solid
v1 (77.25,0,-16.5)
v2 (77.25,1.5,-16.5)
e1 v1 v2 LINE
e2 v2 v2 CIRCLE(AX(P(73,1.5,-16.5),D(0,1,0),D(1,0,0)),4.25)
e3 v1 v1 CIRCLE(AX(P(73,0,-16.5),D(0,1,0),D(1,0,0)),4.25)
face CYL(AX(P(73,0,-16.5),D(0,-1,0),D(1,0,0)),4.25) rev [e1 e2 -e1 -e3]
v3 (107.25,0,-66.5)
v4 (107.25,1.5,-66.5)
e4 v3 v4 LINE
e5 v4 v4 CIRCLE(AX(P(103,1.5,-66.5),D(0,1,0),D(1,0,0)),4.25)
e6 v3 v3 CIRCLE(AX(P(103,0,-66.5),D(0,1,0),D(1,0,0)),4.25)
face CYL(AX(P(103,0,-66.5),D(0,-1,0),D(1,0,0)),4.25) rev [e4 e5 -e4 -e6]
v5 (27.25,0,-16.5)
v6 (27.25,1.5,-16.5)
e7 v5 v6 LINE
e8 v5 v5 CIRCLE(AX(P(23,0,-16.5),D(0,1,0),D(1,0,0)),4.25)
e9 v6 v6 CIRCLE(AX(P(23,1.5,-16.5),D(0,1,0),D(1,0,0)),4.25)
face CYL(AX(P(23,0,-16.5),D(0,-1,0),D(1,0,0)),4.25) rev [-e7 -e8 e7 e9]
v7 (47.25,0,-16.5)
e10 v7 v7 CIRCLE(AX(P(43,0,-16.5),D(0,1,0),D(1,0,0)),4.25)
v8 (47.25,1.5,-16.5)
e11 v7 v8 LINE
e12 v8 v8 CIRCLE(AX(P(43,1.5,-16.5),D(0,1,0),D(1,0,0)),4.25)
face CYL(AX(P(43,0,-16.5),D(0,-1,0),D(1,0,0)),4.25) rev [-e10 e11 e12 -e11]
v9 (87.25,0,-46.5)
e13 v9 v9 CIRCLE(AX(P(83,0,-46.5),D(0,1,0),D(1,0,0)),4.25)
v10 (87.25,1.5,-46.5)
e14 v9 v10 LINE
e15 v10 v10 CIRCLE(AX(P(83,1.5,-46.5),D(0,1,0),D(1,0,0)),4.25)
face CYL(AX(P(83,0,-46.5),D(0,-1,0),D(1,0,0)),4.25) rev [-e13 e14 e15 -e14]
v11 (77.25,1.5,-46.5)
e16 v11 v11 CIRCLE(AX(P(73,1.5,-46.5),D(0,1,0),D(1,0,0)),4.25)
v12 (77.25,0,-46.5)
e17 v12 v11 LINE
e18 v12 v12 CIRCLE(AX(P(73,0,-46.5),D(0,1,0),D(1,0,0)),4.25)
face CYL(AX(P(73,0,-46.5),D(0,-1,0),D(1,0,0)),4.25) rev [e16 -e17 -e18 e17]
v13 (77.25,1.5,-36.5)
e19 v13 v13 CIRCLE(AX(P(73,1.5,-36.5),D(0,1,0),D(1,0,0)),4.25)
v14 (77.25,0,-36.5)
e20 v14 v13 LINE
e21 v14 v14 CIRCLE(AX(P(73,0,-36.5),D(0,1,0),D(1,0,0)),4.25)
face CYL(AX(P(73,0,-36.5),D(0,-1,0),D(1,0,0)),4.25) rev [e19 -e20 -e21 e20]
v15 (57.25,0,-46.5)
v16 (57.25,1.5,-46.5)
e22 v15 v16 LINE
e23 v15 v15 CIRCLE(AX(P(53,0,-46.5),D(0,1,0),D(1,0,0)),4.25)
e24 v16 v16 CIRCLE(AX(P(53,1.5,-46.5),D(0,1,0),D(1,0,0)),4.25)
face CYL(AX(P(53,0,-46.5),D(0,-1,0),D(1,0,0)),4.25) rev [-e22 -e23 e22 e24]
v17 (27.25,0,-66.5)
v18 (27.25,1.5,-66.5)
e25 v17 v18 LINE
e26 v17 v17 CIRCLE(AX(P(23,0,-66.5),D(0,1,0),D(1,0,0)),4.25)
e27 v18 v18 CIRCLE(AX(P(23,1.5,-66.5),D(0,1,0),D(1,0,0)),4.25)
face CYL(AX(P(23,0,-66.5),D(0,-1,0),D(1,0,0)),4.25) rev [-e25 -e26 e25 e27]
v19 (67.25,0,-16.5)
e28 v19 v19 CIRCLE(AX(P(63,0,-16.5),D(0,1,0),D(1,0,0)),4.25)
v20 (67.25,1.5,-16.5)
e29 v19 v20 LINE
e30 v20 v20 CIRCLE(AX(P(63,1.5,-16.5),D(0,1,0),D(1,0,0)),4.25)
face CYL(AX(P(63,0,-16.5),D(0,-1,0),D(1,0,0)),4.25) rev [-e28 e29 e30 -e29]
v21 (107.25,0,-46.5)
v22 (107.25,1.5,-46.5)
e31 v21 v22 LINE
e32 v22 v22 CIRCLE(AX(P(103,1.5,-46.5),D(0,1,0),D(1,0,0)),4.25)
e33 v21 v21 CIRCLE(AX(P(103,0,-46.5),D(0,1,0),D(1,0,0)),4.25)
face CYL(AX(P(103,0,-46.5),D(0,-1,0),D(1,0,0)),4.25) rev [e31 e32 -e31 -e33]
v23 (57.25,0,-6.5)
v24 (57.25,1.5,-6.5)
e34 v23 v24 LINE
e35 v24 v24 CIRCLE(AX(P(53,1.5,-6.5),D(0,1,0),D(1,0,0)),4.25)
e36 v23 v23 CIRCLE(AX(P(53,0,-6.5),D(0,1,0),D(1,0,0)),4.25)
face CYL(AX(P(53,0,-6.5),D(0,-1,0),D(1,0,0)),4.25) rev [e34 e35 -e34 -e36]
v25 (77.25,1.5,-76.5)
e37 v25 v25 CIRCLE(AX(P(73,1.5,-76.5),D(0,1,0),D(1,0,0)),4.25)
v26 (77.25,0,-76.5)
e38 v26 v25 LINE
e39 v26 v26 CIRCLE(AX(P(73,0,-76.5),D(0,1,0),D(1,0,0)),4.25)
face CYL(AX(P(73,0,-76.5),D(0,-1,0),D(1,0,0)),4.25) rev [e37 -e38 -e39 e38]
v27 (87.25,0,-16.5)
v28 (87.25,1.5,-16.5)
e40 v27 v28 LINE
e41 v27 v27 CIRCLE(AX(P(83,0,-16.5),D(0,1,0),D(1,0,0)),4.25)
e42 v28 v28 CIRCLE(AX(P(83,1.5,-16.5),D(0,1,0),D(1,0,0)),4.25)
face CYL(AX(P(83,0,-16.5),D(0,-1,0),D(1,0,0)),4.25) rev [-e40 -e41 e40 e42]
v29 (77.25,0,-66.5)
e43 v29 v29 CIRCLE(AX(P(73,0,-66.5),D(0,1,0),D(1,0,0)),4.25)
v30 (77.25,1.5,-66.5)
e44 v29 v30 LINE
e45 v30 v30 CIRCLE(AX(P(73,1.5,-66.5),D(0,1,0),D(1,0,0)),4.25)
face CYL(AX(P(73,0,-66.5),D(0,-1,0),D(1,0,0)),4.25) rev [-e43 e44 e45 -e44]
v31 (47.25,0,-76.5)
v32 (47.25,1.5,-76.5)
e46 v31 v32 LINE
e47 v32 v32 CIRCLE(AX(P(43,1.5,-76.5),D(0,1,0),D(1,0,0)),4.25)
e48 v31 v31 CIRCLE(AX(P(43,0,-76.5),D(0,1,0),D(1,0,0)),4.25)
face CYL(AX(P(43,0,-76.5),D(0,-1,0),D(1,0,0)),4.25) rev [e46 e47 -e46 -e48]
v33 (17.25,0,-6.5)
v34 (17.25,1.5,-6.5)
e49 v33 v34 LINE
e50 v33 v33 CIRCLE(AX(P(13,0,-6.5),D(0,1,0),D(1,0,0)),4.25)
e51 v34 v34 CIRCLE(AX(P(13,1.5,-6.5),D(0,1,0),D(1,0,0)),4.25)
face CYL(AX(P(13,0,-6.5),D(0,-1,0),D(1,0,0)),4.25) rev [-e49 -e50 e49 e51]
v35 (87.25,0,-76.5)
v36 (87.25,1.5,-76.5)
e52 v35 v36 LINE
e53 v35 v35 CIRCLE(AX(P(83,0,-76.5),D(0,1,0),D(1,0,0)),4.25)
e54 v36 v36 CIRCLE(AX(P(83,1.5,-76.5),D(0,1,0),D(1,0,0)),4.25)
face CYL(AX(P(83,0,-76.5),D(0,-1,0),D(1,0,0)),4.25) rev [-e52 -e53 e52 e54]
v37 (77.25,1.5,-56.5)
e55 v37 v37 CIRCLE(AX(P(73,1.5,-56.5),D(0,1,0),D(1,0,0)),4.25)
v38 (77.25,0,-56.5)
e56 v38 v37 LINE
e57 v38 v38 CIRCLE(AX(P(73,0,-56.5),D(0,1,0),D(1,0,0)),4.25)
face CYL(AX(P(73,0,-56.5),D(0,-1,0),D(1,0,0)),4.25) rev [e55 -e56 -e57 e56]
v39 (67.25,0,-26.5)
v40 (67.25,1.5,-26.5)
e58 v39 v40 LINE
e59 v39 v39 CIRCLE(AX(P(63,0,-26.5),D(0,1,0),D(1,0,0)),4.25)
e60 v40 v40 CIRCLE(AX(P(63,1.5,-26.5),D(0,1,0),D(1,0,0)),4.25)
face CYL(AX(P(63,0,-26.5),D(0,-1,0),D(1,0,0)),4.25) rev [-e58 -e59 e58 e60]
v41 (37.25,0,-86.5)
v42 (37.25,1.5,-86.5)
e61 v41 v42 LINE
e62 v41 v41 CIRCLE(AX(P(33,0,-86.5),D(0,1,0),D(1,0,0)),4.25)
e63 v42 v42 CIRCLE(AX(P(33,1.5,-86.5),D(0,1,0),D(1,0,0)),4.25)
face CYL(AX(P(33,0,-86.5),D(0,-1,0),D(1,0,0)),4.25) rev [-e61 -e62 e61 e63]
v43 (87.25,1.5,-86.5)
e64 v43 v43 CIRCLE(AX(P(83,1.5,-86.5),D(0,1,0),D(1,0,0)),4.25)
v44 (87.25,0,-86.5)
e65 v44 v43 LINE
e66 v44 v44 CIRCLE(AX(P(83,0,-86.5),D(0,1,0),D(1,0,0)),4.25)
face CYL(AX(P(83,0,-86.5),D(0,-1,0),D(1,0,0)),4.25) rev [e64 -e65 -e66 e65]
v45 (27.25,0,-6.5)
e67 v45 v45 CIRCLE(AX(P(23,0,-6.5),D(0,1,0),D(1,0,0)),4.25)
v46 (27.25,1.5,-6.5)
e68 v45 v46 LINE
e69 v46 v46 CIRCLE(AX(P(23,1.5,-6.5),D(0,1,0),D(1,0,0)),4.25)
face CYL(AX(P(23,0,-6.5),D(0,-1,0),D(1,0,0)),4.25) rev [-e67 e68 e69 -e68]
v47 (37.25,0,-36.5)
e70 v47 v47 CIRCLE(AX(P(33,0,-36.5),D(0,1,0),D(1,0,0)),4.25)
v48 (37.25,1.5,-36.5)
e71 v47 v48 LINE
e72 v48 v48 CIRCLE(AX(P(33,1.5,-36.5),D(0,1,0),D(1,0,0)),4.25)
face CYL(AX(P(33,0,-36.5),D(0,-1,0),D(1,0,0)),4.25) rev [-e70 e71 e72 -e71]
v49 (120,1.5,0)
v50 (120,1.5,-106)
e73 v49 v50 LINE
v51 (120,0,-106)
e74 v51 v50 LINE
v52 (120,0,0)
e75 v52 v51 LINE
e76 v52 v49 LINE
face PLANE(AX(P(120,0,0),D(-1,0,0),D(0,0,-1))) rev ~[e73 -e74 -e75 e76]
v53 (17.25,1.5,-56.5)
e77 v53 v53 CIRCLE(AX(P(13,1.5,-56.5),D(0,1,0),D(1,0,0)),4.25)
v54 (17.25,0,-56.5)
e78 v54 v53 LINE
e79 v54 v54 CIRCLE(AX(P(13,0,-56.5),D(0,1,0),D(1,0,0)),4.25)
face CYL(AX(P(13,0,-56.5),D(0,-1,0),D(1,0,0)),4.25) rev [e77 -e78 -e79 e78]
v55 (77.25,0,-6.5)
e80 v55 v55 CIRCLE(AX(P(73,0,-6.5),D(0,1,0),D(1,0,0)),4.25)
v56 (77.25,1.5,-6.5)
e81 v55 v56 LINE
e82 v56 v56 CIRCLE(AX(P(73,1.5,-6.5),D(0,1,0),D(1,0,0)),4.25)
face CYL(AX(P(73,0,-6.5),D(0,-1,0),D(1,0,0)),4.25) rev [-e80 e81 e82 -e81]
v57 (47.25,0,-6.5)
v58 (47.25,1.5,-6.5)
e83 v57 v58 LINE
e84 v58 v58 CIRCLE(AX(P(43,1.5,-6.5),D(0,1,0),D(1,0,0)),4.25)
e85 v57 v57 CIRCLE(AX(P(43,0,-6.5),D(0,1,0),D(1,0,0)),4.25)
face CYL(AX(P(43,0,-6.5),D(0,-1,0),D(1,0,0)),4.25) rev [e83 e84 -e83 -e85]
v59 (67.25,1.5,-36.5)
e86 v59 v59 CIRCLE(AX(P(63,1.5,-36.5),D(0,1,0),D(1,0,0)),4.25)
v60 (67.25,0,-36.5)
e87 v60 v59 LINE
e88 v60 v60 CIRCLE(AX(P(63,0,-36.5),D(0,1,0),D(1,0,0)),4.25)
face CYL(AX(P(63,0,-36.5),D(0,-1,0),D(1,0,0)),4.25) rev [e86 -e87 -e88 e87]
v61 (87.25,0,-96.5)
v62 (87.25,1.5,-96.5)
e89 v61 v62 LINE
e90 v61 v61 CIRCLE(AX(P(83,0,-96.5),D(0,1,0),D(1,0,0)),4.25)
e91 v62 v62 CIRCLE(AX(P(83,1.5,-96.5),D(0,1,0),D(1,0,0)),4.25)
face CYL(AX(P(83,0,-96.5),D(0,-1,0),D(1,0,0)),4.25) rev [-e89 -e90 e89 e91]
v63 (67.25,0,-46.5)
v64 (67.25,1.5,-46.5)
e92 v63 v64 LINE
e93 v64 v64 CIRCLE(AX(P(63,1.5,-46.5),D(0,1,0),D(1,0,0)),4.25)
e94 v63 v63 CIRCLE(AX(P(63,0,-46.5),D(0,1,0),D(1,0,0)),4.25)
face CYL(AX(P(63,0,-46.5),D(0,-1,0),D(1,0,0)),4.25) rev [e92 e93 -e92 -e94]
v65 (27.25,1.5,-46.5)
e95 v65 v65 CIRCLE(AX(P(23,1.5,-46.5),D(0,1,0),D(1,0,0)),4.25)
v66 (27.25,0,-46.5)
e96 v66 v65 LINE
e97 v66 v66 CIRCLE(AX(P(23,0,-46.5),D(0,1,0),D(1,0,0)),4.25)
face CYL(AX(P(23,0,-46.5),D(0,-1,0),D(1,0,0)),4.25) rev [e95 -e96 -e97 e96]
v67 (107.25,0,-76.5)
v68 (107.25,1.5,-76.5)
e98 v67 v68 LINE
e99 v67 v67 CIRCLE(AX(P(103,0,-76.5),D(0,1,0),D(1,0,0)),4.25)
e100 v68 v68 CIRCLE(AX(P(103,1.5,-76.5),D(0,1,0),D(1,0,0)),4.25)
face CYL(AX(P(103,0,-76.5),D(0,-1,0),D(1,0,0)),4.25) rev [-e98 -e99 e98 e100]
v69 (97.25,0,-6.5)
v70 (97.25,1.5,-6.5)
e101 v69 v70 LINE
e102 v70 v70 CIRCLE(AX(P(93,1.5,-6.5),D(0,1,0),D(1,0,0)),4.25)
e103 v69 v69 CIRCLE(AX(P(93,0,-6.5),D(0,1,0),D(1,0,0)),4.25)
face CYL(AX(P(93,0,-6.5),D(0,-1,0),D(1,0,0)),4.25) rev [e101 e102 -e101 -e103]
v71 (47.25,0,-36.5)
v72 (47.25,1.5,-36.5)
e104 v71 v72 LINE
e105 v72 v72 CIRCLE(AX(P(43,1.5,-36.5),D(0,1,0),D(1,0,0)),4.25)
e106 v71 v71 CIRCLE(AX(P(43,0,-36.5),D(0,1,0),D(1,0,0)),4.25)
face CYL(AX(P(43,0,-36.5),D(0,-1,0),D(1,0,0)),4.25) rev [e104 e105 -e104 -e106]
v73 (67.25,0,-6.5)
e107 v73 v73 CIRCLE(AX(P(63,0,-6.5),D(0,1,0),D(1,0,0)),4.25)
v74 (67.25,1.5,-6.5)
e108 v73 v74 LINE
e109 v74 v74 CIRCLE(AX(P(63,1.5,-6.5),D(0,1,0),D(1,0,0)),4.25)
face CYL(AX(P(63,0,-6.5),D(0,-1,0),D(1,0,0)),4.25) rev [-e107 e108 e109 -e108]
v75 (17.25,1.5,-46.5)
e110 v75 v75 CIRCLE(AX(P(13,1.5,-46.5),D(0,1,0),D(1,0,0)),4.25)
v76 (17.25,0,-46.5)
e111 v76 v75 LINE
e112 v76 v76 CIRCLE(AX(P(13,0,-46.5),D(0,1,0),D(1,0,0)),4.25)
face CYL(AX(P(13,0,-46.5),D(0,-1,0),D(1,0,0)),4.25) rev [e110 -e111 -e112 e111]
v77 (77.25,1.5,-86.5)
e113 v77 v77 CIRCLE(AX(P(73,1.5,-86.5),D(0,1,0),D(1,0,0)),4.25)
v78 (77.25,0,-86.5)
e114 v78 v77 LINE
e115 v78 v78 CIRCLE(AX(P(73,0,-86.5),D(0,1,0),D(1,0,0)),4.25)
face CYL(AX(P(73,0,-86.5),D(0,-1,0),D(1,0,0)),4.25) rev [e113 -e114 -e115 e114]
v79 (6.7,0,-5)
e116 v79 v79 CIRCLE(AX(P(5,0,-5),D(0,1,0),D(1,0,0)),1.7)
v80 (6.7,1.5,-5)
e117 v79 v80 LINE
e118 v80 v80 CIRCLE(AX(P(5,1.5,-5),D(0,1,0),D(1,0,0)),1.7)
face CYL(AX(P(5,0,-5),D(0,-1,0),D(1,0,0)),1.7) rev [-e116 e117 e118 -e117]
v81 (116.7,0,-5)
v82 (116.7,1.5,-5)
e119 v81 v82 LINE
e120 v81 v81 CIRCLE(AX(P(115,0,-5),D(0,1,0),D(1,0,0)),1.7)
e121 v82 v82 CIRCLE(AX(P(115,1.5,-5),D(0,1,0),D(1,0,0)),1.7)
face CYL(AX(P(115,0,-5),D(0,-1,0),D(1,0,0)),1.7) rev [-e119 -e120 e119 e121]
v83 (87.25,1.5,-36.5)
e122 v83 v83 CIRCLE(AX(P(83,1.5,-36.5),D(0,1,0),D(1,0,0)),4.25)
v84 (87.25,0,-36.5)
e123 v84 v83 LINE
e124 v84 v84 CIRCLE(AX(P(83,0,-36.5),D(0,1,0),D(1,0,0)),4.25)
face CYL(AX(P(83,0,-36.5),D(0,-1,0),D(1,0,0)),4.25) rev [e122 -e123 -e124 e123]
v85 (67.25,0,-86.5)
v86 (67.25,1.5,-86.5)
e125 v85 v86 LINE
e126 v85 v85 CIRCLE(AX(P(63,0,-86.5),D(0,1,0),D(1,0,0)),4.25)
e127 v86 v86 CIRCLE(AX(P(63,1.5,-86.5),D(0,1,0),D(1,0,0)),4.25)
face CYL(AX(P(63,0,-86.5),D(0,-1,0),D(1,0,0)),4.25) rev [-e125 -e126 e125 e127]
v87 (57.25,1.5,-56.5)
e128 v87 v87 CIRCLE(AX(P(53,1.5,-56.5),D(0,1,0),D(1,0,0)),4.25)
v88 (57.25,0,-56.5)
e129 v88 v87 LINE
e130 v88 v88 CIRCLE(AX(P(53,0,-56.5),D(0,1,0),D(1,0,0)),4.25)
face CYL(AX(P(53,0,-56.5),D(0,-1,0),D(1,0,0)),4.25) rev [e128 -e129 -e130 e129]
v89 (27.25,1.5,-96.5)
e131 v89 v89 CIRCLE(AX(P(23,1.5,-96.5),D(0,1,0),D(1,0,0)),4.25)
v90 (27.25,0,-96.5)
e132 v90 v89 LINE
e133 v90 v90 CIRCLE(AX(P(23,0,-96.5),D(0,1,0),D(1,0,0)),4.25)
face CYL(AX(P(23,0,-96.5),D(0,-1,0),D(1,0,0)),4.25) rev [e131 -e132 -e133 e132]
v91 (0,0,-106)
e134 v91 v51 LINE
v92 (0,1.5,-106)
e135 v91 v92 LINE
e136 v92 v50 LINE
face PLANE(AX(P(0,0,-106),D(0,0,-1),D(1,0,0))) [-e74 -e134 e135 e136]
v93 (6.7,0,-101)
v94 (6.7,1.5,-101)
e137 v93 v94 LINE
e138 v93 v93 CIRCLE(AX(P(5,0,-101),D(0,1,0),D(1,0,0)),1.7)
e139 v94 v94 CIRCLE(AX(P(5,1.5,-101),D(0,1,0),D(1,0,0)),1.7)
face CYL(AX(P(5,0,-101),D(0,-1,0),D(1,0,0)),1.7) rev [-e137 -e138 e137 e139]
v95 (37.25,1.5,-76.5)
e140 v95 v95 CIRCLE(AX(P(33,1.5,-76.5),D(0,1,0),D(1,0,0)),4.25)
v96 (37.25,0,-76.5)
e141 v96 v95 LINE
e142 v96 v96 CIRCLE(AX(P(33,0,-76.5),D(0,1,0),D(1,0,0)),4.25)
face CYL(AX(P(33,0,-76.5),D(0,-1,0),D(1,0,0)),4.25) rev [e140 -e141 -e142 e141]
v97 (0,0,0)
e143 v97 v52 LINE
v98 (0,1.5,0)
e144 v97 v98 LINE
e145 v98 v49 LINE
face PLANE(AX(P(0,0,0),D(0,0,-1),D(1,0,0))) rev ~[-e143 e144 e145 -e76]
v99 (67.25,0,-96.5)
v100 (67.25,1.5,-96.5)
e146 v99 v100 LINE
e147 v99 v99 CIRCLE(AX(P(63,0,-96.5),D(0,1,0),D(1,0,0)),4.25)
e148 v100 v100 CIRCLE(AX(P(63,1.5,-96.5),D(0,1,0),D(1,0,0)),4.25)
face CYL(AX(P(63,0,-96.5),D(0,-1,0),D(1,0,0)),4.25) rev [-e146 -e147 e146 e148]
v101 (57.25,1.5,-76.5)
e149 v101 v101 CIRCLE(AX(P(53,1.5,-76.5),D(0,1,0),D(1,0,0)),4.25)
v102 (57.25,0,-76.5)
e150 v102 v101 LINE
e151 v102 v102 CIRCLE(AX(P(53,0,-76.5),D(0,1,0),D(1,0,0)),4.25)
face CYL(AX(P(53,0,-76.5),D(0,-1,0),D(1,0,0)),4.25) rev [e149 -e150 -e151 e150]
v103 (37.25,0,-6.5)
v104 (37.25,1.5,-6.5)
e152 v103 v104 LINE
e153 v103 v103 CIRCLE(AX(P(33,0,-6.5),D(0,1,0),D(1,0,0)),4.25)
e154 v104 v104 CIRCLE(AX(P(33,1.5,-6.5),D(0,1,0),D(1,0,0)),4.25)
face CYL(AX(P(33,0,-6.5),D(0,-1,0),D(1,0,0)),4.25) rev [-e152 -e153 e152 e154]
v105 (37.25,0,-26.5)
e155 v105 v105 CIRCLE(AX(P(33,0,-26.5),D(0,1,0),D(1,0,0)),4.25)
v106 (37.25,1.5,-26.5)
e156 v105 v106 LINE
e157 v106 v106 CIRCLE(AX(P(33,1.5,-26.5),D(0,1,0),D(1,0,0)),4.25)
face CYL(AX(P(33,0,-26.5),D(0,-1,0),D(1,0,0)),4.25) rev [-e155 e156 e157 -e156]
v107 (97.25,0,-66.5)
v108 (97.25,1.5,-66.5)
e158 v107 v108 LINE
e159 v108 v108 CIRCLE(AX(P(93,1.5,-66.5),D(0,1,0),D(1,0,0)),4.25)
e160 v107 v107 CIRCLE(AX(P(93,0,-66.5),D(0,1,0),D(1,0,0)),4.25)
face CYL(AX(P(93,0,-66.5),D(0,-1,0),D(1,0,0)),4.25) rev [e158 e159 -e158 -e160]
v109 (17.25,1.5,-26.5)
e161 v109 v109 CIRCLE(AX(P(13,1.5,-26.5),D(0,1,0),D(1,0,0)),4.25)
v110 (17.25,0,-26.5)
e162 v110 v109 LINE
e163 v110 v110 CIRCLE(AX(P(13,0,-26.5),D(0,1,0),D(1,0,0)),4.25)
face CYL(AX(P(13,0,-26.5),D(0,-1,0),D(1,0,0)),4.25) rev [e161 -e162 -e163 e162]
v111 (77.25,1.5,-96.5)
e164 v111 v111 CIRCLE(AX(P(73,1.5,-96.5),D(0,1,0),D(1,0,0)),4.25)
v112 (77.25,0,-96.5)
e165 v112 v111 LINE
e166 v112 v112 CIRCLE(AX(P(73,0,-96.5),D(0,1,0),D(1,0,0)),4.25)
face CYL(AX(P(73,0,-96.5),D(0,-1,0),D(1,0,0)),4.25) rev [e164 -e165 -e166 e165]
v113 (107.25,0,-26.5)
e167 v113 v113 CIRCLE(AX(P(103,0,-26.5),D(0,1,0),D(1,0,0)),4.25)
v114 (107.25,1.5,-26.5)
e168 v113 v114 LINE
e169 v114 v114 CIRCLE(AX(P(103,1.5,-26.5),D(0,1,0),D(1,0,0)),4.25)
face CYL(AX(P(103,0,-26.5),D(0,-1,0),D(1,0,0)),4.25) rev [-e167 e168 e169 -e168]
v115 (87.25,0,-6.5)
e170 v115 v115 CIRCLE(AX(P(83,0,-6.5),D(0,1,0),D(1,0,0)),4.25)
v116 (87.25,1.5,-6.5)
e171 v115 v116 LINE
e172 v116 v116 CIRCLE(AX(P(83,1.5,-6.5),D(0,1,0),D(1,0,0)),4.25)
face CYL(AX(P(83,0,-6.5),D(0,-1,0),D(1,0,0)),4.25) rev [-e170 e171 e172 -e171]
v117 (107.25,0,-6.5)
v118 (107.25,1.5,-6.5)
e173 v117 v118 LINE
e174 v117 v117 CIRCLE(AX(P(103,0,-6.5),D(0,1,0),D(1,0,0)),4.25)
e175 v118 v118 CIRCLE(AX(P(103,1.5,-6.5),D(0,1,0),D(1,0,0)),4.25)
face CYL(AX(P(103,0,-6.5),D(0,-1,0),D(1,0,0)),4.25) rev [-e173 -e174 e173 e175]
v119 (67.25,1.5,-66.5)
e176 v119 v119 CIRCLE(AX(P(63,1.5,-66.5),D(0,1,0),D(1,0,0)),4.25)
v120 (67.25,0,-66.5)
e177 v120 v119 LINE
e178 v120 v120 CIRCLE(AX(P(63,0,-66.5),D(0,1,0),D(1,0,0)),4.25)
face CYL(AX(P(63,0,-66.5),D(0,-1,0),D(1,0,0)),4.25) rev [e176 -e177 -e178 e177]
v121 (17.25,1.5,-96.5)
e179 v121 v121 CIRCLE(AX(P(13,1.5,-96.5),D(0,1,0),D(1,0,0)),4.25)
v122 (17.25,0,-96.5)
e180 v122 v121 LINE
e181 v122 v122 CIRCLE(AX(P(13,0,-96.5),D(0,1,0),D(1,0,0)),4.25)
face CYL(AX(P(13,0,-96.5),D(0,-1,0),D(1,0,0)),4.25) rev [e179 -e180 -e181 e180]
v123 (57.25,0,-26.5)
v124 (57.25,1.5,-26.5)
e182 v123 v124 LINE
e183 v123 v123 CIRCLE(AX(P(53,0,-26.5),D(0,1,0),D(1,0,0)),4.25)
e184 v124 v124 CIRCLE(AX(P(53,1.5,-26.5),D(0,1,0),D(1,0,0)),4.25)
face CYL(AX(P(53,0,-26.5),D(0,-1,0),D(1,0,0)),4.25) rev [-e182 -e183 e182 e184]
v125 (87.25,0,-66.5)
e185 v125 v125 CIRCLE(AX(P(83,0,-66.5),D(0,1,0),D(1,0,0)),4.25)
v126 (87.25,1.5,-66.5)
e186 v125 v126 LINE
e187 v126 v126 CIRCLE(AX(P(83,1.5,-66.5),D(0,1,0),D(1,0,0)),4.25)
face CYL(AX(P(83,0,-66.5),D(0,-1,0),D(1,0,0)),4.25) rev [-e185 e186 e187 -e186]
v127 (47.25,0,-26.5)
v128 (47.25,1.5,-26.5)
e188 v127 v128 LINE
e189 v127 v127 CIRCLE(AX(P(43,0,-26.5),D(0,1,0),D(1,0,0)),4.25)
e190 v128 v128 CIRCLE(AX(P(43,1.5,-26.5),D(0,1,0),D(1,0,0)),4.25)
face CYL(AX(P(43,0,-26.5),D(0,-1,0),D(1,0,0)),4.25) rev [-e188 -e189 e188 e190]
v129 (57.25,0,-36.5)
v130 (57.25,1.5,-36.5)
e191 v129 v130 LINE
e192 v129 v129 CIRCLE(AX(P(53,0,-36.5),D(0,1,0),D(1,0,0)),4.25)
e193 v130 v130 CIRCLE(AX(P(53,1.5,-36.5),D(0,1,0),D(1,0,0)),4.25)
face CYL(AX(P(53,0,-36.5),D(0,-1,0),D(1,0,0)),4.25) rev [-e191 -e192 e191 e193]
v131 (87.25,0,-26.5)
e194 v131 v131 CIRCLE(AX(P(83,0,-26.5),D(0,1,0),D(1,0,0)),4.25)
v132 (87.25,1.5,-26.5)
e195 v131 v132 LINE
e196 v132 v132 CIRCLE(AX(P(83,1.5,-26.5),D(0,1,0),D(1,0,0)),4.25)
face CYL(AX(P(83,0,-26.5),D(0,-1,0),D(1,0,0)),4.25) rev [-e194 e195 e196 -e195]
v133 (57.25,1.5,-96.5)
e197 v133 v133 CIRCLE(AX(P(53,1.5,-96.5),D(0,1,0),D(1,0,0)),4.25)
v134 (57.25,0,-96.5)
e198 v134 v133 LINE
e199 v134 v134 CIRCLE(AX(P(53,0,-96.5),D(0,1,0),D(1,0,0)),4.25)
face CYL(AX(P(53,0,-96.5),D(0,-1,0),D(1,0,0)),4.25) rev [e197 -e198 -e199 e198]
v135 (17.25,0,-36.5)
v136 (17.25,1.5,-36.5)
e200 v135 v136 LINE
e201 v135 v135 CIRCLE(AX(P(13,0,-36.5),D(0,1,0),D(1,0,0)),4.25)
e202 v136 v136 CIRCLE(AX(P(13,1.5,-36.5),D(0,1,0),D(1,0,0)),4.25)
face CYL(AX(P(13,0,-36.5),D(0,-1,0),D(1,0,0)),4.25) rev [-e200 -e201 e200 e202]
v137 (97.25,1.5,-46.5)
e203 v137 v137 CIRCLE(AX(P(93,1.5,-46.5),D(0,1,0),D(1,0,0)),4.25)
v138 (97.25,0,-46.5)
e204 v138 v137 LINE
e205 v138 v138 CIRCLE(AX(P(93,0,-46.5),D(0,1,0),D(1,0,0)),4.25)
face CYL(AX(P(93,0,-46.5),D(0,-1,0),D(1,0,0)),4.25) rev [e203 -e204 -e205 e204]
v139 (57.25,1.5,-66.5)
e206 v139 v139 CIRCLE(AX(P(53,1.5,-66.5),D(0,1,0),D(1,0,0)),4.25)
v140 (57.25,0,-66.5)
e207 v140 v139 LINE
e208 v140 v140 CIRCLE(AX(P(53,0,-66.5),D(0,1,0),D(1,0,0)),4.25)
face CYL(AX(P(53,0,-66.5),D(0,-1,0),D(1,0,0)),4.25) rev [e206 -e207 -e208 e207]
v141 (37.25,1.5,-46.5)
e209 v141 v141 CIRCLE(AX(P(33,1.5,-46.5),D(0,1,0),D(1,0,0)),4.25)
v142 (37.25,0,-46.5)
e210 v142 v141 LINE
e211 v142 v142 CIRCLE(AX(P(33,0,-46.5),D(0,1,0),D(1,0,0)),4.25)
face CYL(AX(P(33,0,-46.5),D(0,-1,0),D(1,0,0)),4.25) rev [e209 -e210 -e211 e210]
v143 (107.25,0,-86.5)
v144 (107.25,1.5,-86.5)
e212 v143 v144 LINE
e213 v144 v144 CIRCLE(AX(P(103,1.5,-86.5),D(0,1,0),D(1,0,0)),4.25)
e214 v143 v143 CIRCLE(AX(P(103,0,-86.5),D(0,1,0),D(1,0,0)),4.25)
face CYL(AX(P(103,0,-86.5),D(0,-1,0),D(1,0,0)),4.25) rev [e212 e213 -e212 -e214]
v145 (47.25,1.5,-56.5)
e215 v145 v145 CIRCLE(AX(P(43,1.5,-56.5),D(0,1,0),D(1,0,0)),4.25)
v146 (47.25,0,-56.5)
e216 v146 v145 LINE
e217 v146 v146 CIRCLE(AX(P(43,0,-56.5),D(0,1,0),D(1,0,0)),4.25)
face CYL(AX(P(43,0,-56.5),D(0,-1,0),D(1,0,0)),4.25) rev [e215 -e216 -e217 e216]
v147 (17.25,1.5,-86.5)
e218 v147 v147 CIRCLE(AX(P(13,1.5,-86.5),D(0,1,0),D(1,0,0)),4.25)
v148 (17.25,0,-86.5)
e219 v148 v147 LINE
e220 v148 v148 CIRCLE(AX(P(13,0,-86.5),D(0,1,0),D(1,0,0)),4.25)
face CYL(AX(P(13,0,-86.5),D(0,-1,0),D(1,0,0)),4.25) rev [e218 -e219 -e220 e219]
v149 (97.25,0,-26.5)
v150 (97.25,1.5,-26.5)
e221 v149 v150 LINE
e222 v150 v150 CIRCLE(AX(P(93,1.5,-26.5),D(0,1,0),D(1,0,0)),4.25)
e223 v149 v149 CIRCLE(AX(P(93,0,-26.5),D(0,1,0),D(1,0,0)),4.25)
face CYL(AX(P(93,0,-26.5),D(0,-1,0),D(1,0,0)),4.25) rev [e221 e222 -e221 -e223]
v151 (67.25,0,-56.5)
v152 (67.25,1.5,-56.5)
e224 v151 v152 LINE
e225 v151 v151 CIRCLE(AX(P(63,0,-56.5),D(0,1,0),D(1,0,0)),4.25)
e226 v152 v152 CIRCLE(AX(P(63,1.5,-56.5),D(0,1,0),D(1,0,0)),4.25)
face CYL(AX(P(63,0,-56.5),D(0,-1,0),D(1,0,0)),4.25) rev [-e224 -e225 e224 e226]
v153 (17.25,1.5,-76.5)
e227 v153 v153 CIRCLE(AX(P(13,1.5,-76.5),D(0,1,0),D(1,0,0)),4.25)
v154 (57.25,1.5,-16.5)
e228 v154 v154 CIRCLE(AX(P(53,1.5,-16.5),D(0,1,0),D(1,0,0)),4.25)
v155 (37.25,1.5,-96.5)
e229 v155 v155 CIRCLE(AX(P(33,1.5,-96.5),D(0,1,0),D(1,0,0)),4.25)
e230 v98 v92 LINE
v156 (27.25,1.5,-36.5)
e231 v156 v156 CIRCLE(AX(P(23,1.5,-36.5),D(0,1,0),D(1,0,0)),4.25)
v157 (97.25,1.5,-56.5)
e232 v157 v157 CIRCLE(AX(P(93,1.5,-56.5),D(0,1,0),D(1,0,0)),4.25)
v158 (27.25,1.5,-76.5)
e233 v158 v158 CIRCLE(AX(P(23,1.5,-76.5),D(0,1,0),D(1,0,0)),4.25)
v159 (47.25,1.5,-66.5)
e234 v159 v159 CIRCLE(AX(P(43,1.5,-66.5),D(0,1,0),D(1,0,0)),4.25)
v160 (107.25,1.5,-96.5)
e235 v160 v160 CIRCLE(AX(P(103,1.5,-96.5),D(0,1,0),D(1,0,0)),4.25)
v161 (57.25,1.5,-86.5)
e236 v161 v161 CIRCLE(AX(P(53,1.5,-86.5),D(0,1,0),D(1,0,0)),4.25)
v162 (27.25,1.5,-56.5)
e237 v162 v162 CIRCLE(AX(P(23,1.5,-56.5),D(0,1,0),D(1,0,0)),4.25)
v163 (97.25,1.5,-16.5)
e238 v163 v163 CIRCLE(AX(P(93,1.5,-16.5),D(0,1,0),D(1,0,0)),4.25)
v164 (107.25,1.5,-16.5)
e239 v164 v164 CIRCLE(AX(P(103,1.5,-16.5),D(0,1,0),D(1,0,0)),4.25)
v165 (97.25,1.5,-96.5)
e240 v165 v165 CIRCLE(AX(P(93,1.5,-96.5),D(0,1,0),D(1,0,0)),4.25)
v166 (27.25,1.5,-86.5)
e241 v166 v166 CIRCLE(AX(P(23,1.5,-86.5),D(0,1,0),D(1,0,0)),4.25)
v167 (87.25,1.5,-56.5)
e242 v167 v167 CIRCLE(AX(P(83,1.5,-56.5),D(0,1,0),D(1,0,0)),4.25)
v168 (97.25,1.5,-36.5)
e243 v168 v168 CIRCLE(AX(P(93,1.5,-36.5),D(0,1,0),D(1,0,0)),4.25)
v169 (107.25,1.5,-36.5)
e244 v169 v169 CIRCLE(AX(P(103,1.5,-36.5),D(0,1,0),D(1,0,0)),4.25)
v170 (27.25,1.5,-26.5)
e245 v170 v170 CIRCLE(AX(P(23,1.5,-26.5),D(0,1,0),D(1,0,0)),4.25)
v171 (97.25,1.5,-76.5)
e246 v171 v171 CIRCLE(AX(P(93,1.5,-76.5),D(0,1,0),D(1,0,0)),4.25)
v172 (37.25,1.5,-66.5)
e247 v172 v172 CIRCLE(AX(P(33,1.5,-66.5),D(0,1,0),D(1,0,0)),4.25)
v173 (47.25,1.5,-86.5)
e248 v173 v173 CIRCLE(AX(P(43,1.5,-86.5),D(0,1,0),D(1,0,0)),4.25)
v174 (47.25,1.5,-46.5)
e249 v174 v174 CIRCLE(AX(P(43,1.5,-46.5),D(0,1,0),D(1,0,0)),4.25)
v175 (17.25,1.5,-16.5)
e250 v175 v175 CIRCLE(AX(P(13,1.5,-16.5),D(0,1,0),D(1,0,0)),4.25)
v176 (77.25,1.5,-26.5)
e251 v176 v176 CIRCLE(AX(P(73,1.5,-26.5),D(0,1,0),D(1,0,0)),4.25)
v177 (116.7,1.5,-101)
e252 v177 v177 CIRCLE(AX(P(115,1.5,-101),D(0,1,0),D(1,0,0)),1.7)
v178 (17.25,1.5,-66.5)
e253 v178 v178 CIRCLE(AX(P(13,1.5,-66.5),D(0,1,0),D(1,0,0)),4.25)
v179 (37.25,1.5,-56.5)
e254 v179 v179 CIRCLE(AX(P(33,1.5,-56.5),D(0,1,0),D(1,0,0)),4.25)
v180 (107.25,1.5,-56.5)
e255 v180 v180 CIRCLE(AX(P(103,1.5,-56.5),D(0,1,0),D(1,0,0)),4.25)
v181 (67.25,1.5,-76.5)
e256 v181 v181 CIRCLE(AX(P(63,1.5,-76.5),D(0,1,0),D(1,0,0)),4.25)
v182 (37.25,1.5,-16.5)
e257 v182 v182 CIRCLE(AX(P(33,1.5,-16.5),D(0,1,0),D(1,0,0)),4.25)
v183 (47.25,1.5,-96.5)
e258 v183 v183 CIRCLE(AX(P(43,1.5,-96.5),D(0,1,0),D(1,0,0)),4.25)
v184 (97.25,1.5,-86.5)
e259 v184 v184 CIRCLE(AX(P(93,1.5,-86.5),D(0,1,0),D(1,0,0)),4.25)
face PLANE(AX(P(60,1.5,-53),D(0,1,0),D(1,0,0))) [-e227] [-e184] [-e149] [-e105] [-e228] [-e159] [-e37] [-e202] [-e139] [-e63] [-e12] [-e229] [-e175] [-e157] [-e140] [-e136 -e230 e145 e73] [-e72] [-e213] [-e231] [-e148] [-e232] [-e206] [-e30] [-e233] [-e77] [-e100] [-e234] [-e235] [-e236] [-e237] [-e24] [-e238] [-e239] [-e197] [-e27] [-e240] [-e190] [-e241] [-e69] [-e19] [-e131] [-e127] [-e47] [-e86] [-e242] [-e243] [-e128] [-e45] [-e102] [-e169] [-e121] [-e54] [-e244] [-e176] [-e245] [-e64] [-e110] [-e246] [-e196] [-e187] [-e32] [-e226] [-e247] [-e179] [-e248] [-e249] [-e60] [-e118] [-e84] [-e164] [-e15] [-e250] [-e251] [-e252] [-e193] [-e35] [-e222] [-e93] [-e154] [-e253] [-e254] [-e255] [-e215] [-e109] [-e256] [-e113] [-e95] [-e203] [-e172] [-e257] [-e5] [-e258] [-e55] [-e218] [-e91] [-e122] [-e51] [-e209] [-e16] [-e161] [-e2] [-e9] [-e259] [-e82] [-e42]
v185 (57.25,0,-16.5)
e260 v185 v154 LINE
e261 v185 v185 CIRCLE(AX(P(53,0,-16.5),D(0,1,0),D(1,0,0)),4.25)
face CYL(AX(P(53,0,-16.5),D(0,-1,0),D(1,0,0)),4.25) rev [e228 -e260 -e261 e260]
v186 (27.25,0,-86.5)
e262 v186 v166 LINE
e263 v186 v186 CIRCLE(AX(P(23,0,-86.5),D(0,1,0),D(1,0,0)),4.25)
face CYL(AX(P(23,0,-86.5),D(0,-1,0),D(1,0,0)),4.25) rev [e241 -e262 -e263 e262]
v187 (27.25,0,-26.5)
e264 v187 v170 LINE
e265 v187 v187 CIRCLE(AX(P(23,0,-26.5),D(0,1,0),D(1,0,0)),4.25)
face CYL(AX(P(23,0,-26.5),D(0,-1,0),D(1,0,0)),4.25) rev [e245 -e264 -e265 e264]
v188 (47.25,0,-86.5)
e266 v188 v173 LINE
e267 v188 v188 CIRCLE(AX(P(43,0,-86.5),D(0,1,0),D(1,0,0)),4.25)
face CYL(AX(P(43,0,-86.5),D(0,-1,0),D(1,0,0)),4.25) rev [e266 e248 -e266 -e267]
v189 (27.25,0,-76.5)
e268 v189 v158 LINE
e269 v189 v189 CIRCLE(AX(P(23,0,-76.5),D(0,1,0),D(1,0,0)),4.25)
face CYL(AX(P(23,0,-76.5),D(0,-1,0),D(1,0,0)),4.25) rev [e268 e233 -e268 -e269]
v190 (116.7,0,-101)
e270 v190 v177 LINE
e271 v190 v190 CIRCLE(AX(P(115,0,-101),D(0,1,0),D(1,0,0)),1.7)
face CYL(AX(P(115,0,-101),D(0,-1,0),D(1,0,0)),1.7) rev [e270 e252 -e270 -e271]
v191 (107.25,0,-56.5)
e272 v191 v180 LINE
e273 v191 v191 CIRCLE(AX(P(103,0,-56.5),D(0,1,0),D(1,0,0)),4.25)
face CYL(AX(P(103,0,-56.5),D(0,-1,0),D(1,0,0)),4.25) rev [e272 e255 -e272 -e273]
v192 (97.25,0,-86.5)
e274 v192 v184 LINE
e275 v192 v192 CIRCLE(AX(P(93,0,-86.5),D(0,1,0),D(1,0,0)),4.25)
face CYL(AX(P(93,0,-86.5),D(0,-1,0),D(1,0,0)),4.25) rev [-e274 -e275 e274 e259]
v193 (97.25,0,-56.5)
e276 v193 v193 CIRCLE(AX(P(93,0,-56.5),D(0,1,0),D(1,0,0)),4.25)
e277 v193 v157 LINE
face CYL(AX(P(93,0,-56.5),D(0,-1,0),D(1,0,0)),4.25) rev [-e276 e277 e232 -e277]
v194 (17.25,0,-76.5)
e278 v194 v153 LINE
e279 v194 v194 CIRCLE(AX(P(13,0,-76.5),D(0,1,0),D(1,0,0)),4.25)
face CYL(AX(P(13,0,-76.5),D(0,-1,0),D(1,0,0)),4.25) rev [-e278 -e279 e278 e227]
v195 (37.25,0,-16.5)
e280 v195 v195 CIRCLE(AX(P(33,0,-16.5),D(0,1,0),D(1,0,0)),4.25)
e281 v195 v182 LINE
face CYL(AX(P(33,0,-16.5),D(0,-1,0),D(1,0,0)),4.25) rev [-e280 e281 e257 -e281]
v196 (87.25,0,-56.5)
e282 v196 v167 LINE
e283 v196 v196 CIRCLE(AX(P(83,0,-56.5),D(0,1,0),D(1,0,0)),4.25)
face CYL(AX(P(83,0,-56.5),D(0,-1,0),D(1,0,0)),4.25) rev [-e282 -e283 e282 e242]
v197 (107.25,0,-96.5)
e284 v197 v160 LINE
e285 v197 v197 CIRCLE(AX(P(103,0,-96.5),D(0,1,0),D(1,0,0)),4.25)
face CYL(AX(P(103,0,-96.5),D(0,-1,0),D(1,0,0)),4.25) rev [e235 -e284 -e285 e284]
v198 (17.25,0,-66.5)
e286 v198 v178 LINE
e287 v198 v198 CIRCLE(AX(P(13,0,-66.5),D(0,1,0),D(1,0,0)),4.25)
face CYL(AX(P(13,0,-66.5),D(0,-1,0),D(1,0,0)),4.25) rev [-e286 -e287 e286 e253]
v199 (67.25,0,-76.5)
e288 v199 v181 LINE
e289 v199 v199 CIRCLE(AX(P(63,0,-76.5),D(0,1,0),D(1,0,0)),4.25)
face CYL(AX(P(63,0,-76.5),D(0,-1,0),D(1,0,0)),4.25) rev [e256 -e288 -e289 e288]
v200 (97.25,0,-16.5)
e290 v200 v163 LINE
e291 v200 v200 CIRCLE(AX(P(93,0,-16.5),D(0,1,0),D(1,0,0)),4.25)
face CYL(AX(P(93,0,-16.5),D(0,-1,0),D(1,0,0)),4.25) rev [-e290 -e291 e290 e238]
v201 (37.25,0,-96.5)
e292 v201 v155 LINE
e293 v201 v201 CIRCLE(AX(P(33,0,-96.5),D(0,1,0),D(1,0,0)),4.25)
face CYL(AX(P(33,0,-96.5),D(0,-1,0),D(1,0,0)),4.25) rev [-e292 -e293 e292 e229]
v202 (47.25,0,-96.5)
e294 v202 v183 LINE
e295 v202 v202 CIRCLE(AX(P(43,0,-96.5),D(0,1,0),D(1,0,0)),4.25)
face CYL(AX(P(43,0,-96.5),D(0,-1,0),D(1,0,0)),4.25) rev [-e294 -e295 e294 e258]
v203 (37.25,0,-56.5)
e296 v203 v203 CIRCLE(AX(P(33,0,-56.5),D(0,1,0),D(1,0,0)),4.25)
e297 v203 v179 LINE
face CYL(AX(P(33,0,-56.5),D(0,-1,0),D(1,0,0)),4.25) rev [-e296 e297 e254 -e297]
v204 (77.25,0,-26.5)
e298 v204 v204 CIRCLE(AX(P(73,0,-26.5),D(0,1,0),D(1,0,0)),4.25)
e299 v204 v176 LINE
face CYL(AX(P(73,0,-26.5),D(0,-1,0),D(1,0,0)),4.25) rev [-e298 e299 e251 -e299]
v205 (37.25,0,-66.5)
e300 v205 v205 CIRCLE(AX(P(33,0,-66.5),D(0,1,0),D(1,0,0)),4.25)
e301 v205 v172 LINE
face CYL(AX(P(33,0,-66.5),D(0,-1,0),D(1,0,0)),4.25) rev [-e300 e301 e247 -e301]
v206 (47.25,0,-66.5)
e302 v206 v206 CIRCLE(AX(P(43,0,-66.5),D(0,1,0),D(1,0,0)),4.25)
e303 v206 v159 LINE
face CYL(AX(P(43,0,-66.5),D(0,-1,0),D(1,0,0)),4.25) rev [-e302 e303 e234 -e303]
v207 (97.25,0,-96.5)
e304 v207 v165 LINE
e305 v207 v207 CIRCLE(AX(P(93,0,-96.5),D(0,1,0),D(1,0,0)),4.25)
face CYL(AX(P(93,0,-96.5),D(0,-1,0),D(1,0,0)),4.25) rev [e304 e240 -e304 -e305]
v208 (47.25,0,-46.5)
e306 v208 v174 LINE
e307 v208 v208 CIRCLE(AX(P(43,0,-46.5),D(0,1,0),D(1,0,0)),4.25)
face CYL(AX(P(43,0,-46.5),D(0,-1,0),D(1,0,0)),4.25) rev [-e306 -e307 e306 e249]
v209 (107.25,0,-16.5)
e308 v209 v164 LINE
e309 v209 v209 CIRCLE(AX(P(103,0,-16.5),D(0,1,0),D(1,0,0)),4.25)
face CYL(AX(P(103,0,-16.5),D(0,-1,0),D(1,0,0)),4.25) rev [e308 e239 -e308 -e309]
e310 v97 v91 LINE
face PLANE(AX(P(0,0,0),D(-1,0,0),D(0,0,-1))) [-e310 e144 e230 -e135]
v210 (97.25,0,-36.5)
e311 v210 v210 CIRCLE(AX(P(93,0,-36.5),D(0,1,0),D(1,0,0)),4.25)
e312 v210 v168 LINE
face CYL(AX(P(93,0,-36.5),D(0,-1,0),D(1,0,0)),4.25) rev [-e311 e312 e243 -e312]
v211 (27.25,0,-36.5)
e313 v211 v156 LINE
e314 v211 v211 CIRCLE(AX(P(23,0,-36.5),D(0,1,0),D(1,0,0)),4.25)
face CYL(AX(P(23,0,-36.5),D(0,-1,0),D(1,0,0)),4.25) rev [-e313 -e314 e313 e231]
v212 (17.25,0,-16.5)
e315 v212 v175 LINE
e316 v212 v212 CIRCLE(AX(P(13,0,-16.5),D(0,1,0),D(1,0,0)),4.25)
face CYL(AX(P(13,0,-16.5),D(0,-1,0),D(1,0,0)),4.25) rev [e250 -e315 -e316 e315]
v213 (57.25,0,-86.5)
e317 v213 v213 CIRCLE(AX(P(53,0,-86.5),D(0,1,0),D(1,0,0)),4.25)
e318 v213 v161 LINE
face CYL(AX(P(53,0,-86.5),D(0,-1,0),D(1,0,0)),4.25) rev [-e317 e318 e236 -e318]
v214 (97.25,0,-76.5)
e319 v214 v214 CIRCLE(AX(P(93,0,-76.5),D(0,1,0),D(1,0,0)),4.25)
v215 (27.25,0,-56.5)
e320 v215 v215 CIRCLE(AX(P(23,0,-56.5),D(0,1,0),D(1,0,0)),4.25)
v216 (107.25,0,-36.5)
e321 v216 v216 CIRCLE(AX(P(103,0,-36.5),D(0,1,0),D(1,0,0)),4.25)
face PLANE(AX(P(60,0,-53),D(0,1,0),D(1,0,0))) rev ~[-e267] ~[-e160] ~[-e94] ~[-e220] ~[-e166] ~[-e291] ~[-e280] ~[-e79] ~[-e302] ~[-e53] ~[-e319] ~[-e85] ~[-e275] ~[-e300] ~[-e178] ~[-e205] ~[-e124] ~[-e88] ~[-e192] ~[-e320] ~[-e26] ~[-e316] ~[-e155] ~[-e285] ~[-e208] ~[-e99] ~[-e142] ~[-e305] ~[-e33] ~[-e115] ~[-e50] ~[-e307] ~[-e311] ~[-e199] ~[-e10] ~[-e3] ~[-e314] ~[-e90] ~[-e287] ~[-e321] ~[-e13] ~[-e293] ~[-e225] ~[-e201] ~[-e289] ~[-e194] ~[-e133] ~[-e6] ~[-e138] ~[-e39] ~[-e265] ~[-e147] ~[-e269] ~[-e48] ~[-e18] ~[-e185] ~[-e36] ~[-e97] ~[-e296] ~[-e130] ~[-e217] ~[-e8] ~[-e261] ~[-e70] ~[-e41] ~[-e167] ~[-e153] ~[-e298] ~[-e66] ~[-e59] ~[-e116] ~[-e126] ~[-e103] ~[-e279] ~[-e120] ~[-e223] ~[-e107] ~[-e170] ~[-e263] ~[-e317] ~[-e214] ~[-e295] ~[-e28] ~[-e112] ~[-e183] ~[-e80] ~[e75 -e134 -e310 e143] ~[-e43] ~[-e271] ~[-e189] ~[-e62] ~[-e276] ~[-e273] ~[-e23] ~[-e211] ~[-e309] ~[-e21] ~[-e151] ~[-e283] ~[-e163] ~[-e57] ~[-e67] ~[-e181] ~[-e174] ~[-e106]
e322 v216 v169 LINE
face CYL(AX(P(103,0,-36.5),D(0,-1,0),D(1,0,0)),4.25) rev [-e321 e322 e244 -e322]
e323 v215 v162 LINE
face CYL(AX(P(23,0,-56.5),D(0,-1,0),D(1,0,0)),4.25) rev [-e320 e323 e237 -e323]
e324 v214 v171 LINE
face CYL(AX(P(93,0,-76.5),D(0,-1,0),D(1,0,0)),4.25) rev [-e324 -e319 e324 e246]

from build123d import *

# Parameters (mm, degrees)
SKETCH1_W           = 120
SKETCH1_H           = 106
SKETCH1_R           = 4.25
SKETCH1_R_2         = 1.7
BOSS_EXTRUDE1_DEPTH = 1.5


with BuildPart() as part:
    # Sketch1 → Boss-Extrude1 (new body)
    with BuildSketch(Plane(origin=(0, 0, 0), x_dir=(1, 0, 0), z_dir=(0, 1, 0))):
        with Locations((60, 53)):
            Rectangle(SKETCH1_W, SKETCH1_H)
        with Locations((13, 36.5)):
            Circle(SKETCH1_R, mode=Mode.SUBTRACT)
        with Locations((23, 36.5)):
            Circle(SKETCH1_R, mode=Mode.SUBTRACT)
        with Locations((13, 6.5)):
            Circle(SKETCH1_R, mode=Mode.SUBTRACT)
        with Locations((5, 5)):
            Circle(SKETCH1_R_2, mode=Mode.SUBTRACT)
        with Locations((5, 101)):
            Circle(SKETCH1_R_2, mode=Mode.SUBTRACT)
        with Locations((115, 101)):
            Circle(SKETCH1_R_2, mode=Mode.SUBTRACT)
        with Locations((115, 5)):
            Circle(SKETCH1_R_2, mode=Mode.SUBTRACT)
        with Locations((23, 6.5)):
            Circle(SKETCH1_R, mode=Mode.SUBTRACT)
        with Locations((33, 6.5)):
            Circle(SKETCH1_R, mode=Mode.SUBTRACT)
        with Locations((23, 16.5)):
            Circle(SKETCH1_R, mode=Mode.SUBTRACT)
        with Locations((33, 16.5)):
            Circle(SKETCH1_R, mode=Mode.SUBTRACT)
        with Locations((23, 26.5)):
            Circle(SKETCH1_R, mode=Mode.SUBTRACT)
        with Locations((33, 26.5)):
            Circle(SKETCH1_R, mode=Mode.SUBTRACT)
        with Locations((13, 16.5)):
            Circle(SKETCH1_R, mode=Mode.SUBTRACT)
        with Locations((13, 26.5)):
            Circle(SKETCH1_R, mode=Mode.SUBTRACT)
        with Locations((33, 36.5)):
            Circle(SKETCH1_R, mode=Mode.SUBTRACT)
        with Locations((13, 46.5)):
            Circle(SKETCH1_R, mode=Mode.SUBTRACT)
        with Locations((23, 46.5)):
            Circle(SKETCH1_R, mode=Mode.SUBTRACT)
        with Locations((33, 46.5)):
            Circle(SKETCH1_R, mode=Mode.SUBTRACT)
        with Locations((13, 56.5)):
            Circle(SKETCH1_R, mode=Mode.SUBTRACT)
        with Locations((23, 56.5)):
            Circle(SKETCH1_R, mode=Mode.SUBTRACT)
        with Locations((33, 56.5)):
            Circle(SKETCH1_R, mode=Mode.SUBTRACT)
        with Locations((13, 66.5)):
            Circle(SKETCH1_R, mode=Mode.SUBTRACT)
        with Locations((23, 66.5)):
            Circle(SKETCH1_R, mode=Mode.SUBTRACT)
        with Locations((33, 66.5)):
            Circle(SKETCH1_R, mode=Mode.SUBTRACT)
        with Locations((13, 76.5)):
            Circle(SKETCH1_R, mode=Mode.SUBTRACT)
        with Locations((23, 76.5)):
            Circle(SKETCH1_R, mode=Mode.SUBTRACT)
        with Locations((33, 76.5)):
            Circle(SKETCH1_R, mode=Mode.SUBTRACT)
        with Locations((13, 86.5)):
            Circle(SKETCH1_R, mode=Mode.SUBTRACT)
        with Locations((23, 86.5)):
            Circle(SKETCH1_R, mode=Mode.SUBTRACT)
        with Locations((33, 86.5)):
            Circle(SKETCH1_R, mode=Mode.SUBTRACT)
        with Locations((13, 96.5)):
            Circle(SKETCH1_R, mode=Mode.SUBTRACT)
        with Locations((23, 96.5)):
            Circle(SKETCH1_R, mode=Mode.SUBTRACT)
        with Locations((33, 96.5)):
            Circle(SKETCH1_R, mode=Mode.SUBTRACT)
        with Locations((43, 6.5)):
            Circle(SKETCH1_R, mode=Mode.SUBTRACT)
        with Locations((53, 6.5)):
            Circle(SKETCH1_R, mode=Mode.SUBTRACT)
        with Locations((63, 6.5)):
            Circle(SKETCH1_R, mode=Mode.SUBTRACT)
        with Locations((73, 6.5)):
            Circle(SKETCH1_R, mode=Mode.SUBTRACT)
        with Locations((83, 6.5)):
            Circle(SKETCH1_R, mode=Mode.SUBTRACT)
        with Locations((93, 6.5)):
            Circle(SKETCH1_R, mode=Mode.SUBTRACT)
        with Locations((103, 6.5)):
            Circle(SKETCH1_R, mode=Mode.SUBTRACT)
        with Locations((43, 16.5)):
            Circle(SKETCH1_R, mode=Mode.SUBTRACT)
        with Locations((53, 16.5)):
            Circle(SKETCH1_R, mode=Mode.SUBTRACT)
        with Locations((63, 16.5)):
            Circle(SKETCH1_R, mode=Mode.SUBTRACT)
        with Locations((73, 16.5)):
            Circle(SKETCH1_R, mode=Mode.SUBTRACT)
        with Locations((83, 16.5)):
            Circle(SKETCH1_R, mode=Mode.SUBTRACT)
        with Locations((93, 16.5)):
            Circle(SKETCH1_R, mode=Mode.SUBTRACT)
        with Locations((103, 16.5)):
            Circle(SKETCH1_R, mode=Mode.SUBTRACT)
        with Locations((43, 26.5)):
            Circle(SKETCH1_R, mode=Mode.SUBTRACT)
        with Locations((53, 26.5)):
            Circle(SKETCH1_R, mode=Mode.SUBTRACT)
        with Locations((63, 26.5)):
            Circle(SKETCH1_R, mode=Mode.SUBTRACT)
        with Locations((73, 26.5)):
            Circle(SKETCH1_R, mode=Mode.SUBTRACT)
        with Locations((83, 26.5)):
            Circle(SKETCH1_R, mode=Mode.SUBTRACT)
        with Locations((93, 26.5)):
            Circle(SKETCH1_R, mode=Mode.SUBTRACT)
        with Locations((103, 26.5)):
            Circle(SKETCH1_R, mode=Mode.SUBTRACT)
        with Locations((43, 36.5)):
            Circle(SKETCH1_R, mode=Mode.SUBTRACT)
        with Locations((53, 36.5)):
            Circle(SKETCH1_R, mode=Mode.SUBTRACT)
        with Locations((63, 36.5)):
            Circle(SKETCH1_R, mode=Mode.SUBTRACT)
        with Locations((73, 36.5)):
            Circle(SKETCH1_R, mode=Mode.SUBTRACT)
        with Locations((83, 36.5)):
            Circle(SKETCH1_R, mode=Mode.SUBTRACT)
        with Locations((93, 36.5)):
            Circle(SKETCH1_R, mode=Mode.SUBTRACT)
        with Locations((103, 36.5)):
            Circle(SKETCH1_R, mode=Mode.SUBTRACT)
        with Locations((43, 46.5)):
            Circle(SKETCH1_R, mode=Mode.SUBTRACT)
        with Locations((53, 46.5)):
            Circle(SKETCH1_R, mode=Mode.SUBTRACT)
        with Locations((63, 46.5)):
            Circle(SKETCH1_R, mode=Mode.SUBTRACT)
        with Locations((73, 46.5)):
            Circle(SKETCH1_R, mode=Mode.SUBTRACT)
        with Locations((83, 46.5)):
            Circle(SKETCH1_R, mode=Mode.SUBTRACT)
        with Locations((93, 46.5)):
            Circle(SKETCH1_R, mode=Mode.SUBTRACT)
        with Locations((103, 46.5)):
            Circle(SKETCH1_R, mode=Mode.SUBTRACT)
        with Locations((43, 56.5)):
            Circle(SKETCH1_R, mode=Mode.SUBTRACT)
        with Locations((53, 56.5)):
            Circle(SKETCH1_R, mode=Mode.SUBTRACT)
        with Locations((63, 56.5)):
            Circle(SKETCH1_R, mode=Mode.SUBTRACT)
        with Locations((73, 56.5)):
            Circle(SKETCH1_R, mode=Mode.SUBTRACT)
        with Locations((83, 56.5)):
            Circle(SKETCH1_R, mode=Mode.SUBTRACT)
        with Locations((93, 56.5)):
            Circle(SKETCH1_R, mode=Mode.SUBTRACT)
        with Locations((103, 56.5)):
            Circle(SKETCH1_R, mode=Mode.SUBTRACT)
        with Locations((43, 66.5)):
            Circle(SKETCH1_R, mode=Mode.SUBTRACT)
        with Locations((53, 66.5)):
            Circle(SKETCH1_R, mode=Mode.SUBTRACT)
        with Locations((63, 66.5)):
            Circle(SKETCH1_R, mode=Mode.SUBTRACT)
        with Locations((73, 66.5)):
            Circle(SKETCH1_R, mode=Mode.SUBTRACT)
        with Locations((83, 66.5)):
            Circle(SKETCH1_R, mode=Mode.SUBTRACT)
        with Locations((93, 66.5)):
            Circle(SKETCH1_R, mode=Mode.SUBTRACT)
        with Locations((103, 66.5)):
            Circle(SKETCH1_R, mode=Mode.SUBTRACT)
        with Locations((43, 76.5)):
            Circle(SKETCH1_R, mode=Mode.SUBTRACT)
        with Locations((53, 76.5)):
            Circle(SKETCH1_R, mode=Mode.SUBTRACT)
        with Locations((63, 76.5)):
            Circle(SKETCH1_R, mode=Mode.SUBTRACT)
        with Locations((73, 76.5)):
            Circle(SKETCH1_R, mode=Mode.SUBTRACT)
        with Locations((83, 76.5)):
            Circle(SKETCH1_R, mode=Mode.SUBTRACT)
        with Locations((93, 76.5)):
            Circle(SKETCH1_R, mode=Mode.SUBTRACT)
        with Locations((103, 76.5)):
            Circle(SKETCH1_R, mode=Mode.SUBTRACT)
        with Locations((43, 86.5)):
            Circle(SKETCH1_R, mode=Mode.SUBTRACT)
        with Locations((53, 86.5)):
            Circle(SKETCH1_R, mode=Mode.SUBTRACT)
        with Locations((63, 86.5)):
            Circle(SKETCH1_R, mode=Mode.SUBTRACT)
        with Locations((73, 86.5)):
            Circle(SKETCH1_R, mode=Mode.SUBTRACT)
        with Locations((83, 86.5)):
            Circle(SKETCH1_R, mode=Mode.SUBTRACT)
        with Locations((93, 86.5)):
            Circle(SKETCH1_R, mode=Mode.SUBTRACT)
        with Locations((103, 86.5)):
            Circle(SKETCH1_R, mode=Mode.SUBTRACT)
        with Locations((43, 96.5)):
            Circle(SKETCH1_R, mode=Mode.SUBTRACT)
        with Locations((53, 96.5)):
            Circle(SKETCH1_R, mode=Mode.SUBTRACT)
        with Locations((63, 96.5)):
            Circle(SKETCH1_R, mode=Mode.SUBTRACT)
        with Locations((73, 96.5)):
            Circle(SKETCH1_R, mode=Mode.SUBTRACT)
        with Locations((83, 96.5)):
            Circle(SKETCH1_R, mode=Mode.SUBTRACT)
        with Locations((93, 96.5)):
            Circle(SKETCH1_R, mode=Mode.SUBTRACT)
        with Locations((103, 96.5)):
            Circle(SKETCH1_R, mode=Mode.SUBTRACT)
    extrude(amount=BOSS_EXTRUDE1_DEPTH)


solid = part.part
